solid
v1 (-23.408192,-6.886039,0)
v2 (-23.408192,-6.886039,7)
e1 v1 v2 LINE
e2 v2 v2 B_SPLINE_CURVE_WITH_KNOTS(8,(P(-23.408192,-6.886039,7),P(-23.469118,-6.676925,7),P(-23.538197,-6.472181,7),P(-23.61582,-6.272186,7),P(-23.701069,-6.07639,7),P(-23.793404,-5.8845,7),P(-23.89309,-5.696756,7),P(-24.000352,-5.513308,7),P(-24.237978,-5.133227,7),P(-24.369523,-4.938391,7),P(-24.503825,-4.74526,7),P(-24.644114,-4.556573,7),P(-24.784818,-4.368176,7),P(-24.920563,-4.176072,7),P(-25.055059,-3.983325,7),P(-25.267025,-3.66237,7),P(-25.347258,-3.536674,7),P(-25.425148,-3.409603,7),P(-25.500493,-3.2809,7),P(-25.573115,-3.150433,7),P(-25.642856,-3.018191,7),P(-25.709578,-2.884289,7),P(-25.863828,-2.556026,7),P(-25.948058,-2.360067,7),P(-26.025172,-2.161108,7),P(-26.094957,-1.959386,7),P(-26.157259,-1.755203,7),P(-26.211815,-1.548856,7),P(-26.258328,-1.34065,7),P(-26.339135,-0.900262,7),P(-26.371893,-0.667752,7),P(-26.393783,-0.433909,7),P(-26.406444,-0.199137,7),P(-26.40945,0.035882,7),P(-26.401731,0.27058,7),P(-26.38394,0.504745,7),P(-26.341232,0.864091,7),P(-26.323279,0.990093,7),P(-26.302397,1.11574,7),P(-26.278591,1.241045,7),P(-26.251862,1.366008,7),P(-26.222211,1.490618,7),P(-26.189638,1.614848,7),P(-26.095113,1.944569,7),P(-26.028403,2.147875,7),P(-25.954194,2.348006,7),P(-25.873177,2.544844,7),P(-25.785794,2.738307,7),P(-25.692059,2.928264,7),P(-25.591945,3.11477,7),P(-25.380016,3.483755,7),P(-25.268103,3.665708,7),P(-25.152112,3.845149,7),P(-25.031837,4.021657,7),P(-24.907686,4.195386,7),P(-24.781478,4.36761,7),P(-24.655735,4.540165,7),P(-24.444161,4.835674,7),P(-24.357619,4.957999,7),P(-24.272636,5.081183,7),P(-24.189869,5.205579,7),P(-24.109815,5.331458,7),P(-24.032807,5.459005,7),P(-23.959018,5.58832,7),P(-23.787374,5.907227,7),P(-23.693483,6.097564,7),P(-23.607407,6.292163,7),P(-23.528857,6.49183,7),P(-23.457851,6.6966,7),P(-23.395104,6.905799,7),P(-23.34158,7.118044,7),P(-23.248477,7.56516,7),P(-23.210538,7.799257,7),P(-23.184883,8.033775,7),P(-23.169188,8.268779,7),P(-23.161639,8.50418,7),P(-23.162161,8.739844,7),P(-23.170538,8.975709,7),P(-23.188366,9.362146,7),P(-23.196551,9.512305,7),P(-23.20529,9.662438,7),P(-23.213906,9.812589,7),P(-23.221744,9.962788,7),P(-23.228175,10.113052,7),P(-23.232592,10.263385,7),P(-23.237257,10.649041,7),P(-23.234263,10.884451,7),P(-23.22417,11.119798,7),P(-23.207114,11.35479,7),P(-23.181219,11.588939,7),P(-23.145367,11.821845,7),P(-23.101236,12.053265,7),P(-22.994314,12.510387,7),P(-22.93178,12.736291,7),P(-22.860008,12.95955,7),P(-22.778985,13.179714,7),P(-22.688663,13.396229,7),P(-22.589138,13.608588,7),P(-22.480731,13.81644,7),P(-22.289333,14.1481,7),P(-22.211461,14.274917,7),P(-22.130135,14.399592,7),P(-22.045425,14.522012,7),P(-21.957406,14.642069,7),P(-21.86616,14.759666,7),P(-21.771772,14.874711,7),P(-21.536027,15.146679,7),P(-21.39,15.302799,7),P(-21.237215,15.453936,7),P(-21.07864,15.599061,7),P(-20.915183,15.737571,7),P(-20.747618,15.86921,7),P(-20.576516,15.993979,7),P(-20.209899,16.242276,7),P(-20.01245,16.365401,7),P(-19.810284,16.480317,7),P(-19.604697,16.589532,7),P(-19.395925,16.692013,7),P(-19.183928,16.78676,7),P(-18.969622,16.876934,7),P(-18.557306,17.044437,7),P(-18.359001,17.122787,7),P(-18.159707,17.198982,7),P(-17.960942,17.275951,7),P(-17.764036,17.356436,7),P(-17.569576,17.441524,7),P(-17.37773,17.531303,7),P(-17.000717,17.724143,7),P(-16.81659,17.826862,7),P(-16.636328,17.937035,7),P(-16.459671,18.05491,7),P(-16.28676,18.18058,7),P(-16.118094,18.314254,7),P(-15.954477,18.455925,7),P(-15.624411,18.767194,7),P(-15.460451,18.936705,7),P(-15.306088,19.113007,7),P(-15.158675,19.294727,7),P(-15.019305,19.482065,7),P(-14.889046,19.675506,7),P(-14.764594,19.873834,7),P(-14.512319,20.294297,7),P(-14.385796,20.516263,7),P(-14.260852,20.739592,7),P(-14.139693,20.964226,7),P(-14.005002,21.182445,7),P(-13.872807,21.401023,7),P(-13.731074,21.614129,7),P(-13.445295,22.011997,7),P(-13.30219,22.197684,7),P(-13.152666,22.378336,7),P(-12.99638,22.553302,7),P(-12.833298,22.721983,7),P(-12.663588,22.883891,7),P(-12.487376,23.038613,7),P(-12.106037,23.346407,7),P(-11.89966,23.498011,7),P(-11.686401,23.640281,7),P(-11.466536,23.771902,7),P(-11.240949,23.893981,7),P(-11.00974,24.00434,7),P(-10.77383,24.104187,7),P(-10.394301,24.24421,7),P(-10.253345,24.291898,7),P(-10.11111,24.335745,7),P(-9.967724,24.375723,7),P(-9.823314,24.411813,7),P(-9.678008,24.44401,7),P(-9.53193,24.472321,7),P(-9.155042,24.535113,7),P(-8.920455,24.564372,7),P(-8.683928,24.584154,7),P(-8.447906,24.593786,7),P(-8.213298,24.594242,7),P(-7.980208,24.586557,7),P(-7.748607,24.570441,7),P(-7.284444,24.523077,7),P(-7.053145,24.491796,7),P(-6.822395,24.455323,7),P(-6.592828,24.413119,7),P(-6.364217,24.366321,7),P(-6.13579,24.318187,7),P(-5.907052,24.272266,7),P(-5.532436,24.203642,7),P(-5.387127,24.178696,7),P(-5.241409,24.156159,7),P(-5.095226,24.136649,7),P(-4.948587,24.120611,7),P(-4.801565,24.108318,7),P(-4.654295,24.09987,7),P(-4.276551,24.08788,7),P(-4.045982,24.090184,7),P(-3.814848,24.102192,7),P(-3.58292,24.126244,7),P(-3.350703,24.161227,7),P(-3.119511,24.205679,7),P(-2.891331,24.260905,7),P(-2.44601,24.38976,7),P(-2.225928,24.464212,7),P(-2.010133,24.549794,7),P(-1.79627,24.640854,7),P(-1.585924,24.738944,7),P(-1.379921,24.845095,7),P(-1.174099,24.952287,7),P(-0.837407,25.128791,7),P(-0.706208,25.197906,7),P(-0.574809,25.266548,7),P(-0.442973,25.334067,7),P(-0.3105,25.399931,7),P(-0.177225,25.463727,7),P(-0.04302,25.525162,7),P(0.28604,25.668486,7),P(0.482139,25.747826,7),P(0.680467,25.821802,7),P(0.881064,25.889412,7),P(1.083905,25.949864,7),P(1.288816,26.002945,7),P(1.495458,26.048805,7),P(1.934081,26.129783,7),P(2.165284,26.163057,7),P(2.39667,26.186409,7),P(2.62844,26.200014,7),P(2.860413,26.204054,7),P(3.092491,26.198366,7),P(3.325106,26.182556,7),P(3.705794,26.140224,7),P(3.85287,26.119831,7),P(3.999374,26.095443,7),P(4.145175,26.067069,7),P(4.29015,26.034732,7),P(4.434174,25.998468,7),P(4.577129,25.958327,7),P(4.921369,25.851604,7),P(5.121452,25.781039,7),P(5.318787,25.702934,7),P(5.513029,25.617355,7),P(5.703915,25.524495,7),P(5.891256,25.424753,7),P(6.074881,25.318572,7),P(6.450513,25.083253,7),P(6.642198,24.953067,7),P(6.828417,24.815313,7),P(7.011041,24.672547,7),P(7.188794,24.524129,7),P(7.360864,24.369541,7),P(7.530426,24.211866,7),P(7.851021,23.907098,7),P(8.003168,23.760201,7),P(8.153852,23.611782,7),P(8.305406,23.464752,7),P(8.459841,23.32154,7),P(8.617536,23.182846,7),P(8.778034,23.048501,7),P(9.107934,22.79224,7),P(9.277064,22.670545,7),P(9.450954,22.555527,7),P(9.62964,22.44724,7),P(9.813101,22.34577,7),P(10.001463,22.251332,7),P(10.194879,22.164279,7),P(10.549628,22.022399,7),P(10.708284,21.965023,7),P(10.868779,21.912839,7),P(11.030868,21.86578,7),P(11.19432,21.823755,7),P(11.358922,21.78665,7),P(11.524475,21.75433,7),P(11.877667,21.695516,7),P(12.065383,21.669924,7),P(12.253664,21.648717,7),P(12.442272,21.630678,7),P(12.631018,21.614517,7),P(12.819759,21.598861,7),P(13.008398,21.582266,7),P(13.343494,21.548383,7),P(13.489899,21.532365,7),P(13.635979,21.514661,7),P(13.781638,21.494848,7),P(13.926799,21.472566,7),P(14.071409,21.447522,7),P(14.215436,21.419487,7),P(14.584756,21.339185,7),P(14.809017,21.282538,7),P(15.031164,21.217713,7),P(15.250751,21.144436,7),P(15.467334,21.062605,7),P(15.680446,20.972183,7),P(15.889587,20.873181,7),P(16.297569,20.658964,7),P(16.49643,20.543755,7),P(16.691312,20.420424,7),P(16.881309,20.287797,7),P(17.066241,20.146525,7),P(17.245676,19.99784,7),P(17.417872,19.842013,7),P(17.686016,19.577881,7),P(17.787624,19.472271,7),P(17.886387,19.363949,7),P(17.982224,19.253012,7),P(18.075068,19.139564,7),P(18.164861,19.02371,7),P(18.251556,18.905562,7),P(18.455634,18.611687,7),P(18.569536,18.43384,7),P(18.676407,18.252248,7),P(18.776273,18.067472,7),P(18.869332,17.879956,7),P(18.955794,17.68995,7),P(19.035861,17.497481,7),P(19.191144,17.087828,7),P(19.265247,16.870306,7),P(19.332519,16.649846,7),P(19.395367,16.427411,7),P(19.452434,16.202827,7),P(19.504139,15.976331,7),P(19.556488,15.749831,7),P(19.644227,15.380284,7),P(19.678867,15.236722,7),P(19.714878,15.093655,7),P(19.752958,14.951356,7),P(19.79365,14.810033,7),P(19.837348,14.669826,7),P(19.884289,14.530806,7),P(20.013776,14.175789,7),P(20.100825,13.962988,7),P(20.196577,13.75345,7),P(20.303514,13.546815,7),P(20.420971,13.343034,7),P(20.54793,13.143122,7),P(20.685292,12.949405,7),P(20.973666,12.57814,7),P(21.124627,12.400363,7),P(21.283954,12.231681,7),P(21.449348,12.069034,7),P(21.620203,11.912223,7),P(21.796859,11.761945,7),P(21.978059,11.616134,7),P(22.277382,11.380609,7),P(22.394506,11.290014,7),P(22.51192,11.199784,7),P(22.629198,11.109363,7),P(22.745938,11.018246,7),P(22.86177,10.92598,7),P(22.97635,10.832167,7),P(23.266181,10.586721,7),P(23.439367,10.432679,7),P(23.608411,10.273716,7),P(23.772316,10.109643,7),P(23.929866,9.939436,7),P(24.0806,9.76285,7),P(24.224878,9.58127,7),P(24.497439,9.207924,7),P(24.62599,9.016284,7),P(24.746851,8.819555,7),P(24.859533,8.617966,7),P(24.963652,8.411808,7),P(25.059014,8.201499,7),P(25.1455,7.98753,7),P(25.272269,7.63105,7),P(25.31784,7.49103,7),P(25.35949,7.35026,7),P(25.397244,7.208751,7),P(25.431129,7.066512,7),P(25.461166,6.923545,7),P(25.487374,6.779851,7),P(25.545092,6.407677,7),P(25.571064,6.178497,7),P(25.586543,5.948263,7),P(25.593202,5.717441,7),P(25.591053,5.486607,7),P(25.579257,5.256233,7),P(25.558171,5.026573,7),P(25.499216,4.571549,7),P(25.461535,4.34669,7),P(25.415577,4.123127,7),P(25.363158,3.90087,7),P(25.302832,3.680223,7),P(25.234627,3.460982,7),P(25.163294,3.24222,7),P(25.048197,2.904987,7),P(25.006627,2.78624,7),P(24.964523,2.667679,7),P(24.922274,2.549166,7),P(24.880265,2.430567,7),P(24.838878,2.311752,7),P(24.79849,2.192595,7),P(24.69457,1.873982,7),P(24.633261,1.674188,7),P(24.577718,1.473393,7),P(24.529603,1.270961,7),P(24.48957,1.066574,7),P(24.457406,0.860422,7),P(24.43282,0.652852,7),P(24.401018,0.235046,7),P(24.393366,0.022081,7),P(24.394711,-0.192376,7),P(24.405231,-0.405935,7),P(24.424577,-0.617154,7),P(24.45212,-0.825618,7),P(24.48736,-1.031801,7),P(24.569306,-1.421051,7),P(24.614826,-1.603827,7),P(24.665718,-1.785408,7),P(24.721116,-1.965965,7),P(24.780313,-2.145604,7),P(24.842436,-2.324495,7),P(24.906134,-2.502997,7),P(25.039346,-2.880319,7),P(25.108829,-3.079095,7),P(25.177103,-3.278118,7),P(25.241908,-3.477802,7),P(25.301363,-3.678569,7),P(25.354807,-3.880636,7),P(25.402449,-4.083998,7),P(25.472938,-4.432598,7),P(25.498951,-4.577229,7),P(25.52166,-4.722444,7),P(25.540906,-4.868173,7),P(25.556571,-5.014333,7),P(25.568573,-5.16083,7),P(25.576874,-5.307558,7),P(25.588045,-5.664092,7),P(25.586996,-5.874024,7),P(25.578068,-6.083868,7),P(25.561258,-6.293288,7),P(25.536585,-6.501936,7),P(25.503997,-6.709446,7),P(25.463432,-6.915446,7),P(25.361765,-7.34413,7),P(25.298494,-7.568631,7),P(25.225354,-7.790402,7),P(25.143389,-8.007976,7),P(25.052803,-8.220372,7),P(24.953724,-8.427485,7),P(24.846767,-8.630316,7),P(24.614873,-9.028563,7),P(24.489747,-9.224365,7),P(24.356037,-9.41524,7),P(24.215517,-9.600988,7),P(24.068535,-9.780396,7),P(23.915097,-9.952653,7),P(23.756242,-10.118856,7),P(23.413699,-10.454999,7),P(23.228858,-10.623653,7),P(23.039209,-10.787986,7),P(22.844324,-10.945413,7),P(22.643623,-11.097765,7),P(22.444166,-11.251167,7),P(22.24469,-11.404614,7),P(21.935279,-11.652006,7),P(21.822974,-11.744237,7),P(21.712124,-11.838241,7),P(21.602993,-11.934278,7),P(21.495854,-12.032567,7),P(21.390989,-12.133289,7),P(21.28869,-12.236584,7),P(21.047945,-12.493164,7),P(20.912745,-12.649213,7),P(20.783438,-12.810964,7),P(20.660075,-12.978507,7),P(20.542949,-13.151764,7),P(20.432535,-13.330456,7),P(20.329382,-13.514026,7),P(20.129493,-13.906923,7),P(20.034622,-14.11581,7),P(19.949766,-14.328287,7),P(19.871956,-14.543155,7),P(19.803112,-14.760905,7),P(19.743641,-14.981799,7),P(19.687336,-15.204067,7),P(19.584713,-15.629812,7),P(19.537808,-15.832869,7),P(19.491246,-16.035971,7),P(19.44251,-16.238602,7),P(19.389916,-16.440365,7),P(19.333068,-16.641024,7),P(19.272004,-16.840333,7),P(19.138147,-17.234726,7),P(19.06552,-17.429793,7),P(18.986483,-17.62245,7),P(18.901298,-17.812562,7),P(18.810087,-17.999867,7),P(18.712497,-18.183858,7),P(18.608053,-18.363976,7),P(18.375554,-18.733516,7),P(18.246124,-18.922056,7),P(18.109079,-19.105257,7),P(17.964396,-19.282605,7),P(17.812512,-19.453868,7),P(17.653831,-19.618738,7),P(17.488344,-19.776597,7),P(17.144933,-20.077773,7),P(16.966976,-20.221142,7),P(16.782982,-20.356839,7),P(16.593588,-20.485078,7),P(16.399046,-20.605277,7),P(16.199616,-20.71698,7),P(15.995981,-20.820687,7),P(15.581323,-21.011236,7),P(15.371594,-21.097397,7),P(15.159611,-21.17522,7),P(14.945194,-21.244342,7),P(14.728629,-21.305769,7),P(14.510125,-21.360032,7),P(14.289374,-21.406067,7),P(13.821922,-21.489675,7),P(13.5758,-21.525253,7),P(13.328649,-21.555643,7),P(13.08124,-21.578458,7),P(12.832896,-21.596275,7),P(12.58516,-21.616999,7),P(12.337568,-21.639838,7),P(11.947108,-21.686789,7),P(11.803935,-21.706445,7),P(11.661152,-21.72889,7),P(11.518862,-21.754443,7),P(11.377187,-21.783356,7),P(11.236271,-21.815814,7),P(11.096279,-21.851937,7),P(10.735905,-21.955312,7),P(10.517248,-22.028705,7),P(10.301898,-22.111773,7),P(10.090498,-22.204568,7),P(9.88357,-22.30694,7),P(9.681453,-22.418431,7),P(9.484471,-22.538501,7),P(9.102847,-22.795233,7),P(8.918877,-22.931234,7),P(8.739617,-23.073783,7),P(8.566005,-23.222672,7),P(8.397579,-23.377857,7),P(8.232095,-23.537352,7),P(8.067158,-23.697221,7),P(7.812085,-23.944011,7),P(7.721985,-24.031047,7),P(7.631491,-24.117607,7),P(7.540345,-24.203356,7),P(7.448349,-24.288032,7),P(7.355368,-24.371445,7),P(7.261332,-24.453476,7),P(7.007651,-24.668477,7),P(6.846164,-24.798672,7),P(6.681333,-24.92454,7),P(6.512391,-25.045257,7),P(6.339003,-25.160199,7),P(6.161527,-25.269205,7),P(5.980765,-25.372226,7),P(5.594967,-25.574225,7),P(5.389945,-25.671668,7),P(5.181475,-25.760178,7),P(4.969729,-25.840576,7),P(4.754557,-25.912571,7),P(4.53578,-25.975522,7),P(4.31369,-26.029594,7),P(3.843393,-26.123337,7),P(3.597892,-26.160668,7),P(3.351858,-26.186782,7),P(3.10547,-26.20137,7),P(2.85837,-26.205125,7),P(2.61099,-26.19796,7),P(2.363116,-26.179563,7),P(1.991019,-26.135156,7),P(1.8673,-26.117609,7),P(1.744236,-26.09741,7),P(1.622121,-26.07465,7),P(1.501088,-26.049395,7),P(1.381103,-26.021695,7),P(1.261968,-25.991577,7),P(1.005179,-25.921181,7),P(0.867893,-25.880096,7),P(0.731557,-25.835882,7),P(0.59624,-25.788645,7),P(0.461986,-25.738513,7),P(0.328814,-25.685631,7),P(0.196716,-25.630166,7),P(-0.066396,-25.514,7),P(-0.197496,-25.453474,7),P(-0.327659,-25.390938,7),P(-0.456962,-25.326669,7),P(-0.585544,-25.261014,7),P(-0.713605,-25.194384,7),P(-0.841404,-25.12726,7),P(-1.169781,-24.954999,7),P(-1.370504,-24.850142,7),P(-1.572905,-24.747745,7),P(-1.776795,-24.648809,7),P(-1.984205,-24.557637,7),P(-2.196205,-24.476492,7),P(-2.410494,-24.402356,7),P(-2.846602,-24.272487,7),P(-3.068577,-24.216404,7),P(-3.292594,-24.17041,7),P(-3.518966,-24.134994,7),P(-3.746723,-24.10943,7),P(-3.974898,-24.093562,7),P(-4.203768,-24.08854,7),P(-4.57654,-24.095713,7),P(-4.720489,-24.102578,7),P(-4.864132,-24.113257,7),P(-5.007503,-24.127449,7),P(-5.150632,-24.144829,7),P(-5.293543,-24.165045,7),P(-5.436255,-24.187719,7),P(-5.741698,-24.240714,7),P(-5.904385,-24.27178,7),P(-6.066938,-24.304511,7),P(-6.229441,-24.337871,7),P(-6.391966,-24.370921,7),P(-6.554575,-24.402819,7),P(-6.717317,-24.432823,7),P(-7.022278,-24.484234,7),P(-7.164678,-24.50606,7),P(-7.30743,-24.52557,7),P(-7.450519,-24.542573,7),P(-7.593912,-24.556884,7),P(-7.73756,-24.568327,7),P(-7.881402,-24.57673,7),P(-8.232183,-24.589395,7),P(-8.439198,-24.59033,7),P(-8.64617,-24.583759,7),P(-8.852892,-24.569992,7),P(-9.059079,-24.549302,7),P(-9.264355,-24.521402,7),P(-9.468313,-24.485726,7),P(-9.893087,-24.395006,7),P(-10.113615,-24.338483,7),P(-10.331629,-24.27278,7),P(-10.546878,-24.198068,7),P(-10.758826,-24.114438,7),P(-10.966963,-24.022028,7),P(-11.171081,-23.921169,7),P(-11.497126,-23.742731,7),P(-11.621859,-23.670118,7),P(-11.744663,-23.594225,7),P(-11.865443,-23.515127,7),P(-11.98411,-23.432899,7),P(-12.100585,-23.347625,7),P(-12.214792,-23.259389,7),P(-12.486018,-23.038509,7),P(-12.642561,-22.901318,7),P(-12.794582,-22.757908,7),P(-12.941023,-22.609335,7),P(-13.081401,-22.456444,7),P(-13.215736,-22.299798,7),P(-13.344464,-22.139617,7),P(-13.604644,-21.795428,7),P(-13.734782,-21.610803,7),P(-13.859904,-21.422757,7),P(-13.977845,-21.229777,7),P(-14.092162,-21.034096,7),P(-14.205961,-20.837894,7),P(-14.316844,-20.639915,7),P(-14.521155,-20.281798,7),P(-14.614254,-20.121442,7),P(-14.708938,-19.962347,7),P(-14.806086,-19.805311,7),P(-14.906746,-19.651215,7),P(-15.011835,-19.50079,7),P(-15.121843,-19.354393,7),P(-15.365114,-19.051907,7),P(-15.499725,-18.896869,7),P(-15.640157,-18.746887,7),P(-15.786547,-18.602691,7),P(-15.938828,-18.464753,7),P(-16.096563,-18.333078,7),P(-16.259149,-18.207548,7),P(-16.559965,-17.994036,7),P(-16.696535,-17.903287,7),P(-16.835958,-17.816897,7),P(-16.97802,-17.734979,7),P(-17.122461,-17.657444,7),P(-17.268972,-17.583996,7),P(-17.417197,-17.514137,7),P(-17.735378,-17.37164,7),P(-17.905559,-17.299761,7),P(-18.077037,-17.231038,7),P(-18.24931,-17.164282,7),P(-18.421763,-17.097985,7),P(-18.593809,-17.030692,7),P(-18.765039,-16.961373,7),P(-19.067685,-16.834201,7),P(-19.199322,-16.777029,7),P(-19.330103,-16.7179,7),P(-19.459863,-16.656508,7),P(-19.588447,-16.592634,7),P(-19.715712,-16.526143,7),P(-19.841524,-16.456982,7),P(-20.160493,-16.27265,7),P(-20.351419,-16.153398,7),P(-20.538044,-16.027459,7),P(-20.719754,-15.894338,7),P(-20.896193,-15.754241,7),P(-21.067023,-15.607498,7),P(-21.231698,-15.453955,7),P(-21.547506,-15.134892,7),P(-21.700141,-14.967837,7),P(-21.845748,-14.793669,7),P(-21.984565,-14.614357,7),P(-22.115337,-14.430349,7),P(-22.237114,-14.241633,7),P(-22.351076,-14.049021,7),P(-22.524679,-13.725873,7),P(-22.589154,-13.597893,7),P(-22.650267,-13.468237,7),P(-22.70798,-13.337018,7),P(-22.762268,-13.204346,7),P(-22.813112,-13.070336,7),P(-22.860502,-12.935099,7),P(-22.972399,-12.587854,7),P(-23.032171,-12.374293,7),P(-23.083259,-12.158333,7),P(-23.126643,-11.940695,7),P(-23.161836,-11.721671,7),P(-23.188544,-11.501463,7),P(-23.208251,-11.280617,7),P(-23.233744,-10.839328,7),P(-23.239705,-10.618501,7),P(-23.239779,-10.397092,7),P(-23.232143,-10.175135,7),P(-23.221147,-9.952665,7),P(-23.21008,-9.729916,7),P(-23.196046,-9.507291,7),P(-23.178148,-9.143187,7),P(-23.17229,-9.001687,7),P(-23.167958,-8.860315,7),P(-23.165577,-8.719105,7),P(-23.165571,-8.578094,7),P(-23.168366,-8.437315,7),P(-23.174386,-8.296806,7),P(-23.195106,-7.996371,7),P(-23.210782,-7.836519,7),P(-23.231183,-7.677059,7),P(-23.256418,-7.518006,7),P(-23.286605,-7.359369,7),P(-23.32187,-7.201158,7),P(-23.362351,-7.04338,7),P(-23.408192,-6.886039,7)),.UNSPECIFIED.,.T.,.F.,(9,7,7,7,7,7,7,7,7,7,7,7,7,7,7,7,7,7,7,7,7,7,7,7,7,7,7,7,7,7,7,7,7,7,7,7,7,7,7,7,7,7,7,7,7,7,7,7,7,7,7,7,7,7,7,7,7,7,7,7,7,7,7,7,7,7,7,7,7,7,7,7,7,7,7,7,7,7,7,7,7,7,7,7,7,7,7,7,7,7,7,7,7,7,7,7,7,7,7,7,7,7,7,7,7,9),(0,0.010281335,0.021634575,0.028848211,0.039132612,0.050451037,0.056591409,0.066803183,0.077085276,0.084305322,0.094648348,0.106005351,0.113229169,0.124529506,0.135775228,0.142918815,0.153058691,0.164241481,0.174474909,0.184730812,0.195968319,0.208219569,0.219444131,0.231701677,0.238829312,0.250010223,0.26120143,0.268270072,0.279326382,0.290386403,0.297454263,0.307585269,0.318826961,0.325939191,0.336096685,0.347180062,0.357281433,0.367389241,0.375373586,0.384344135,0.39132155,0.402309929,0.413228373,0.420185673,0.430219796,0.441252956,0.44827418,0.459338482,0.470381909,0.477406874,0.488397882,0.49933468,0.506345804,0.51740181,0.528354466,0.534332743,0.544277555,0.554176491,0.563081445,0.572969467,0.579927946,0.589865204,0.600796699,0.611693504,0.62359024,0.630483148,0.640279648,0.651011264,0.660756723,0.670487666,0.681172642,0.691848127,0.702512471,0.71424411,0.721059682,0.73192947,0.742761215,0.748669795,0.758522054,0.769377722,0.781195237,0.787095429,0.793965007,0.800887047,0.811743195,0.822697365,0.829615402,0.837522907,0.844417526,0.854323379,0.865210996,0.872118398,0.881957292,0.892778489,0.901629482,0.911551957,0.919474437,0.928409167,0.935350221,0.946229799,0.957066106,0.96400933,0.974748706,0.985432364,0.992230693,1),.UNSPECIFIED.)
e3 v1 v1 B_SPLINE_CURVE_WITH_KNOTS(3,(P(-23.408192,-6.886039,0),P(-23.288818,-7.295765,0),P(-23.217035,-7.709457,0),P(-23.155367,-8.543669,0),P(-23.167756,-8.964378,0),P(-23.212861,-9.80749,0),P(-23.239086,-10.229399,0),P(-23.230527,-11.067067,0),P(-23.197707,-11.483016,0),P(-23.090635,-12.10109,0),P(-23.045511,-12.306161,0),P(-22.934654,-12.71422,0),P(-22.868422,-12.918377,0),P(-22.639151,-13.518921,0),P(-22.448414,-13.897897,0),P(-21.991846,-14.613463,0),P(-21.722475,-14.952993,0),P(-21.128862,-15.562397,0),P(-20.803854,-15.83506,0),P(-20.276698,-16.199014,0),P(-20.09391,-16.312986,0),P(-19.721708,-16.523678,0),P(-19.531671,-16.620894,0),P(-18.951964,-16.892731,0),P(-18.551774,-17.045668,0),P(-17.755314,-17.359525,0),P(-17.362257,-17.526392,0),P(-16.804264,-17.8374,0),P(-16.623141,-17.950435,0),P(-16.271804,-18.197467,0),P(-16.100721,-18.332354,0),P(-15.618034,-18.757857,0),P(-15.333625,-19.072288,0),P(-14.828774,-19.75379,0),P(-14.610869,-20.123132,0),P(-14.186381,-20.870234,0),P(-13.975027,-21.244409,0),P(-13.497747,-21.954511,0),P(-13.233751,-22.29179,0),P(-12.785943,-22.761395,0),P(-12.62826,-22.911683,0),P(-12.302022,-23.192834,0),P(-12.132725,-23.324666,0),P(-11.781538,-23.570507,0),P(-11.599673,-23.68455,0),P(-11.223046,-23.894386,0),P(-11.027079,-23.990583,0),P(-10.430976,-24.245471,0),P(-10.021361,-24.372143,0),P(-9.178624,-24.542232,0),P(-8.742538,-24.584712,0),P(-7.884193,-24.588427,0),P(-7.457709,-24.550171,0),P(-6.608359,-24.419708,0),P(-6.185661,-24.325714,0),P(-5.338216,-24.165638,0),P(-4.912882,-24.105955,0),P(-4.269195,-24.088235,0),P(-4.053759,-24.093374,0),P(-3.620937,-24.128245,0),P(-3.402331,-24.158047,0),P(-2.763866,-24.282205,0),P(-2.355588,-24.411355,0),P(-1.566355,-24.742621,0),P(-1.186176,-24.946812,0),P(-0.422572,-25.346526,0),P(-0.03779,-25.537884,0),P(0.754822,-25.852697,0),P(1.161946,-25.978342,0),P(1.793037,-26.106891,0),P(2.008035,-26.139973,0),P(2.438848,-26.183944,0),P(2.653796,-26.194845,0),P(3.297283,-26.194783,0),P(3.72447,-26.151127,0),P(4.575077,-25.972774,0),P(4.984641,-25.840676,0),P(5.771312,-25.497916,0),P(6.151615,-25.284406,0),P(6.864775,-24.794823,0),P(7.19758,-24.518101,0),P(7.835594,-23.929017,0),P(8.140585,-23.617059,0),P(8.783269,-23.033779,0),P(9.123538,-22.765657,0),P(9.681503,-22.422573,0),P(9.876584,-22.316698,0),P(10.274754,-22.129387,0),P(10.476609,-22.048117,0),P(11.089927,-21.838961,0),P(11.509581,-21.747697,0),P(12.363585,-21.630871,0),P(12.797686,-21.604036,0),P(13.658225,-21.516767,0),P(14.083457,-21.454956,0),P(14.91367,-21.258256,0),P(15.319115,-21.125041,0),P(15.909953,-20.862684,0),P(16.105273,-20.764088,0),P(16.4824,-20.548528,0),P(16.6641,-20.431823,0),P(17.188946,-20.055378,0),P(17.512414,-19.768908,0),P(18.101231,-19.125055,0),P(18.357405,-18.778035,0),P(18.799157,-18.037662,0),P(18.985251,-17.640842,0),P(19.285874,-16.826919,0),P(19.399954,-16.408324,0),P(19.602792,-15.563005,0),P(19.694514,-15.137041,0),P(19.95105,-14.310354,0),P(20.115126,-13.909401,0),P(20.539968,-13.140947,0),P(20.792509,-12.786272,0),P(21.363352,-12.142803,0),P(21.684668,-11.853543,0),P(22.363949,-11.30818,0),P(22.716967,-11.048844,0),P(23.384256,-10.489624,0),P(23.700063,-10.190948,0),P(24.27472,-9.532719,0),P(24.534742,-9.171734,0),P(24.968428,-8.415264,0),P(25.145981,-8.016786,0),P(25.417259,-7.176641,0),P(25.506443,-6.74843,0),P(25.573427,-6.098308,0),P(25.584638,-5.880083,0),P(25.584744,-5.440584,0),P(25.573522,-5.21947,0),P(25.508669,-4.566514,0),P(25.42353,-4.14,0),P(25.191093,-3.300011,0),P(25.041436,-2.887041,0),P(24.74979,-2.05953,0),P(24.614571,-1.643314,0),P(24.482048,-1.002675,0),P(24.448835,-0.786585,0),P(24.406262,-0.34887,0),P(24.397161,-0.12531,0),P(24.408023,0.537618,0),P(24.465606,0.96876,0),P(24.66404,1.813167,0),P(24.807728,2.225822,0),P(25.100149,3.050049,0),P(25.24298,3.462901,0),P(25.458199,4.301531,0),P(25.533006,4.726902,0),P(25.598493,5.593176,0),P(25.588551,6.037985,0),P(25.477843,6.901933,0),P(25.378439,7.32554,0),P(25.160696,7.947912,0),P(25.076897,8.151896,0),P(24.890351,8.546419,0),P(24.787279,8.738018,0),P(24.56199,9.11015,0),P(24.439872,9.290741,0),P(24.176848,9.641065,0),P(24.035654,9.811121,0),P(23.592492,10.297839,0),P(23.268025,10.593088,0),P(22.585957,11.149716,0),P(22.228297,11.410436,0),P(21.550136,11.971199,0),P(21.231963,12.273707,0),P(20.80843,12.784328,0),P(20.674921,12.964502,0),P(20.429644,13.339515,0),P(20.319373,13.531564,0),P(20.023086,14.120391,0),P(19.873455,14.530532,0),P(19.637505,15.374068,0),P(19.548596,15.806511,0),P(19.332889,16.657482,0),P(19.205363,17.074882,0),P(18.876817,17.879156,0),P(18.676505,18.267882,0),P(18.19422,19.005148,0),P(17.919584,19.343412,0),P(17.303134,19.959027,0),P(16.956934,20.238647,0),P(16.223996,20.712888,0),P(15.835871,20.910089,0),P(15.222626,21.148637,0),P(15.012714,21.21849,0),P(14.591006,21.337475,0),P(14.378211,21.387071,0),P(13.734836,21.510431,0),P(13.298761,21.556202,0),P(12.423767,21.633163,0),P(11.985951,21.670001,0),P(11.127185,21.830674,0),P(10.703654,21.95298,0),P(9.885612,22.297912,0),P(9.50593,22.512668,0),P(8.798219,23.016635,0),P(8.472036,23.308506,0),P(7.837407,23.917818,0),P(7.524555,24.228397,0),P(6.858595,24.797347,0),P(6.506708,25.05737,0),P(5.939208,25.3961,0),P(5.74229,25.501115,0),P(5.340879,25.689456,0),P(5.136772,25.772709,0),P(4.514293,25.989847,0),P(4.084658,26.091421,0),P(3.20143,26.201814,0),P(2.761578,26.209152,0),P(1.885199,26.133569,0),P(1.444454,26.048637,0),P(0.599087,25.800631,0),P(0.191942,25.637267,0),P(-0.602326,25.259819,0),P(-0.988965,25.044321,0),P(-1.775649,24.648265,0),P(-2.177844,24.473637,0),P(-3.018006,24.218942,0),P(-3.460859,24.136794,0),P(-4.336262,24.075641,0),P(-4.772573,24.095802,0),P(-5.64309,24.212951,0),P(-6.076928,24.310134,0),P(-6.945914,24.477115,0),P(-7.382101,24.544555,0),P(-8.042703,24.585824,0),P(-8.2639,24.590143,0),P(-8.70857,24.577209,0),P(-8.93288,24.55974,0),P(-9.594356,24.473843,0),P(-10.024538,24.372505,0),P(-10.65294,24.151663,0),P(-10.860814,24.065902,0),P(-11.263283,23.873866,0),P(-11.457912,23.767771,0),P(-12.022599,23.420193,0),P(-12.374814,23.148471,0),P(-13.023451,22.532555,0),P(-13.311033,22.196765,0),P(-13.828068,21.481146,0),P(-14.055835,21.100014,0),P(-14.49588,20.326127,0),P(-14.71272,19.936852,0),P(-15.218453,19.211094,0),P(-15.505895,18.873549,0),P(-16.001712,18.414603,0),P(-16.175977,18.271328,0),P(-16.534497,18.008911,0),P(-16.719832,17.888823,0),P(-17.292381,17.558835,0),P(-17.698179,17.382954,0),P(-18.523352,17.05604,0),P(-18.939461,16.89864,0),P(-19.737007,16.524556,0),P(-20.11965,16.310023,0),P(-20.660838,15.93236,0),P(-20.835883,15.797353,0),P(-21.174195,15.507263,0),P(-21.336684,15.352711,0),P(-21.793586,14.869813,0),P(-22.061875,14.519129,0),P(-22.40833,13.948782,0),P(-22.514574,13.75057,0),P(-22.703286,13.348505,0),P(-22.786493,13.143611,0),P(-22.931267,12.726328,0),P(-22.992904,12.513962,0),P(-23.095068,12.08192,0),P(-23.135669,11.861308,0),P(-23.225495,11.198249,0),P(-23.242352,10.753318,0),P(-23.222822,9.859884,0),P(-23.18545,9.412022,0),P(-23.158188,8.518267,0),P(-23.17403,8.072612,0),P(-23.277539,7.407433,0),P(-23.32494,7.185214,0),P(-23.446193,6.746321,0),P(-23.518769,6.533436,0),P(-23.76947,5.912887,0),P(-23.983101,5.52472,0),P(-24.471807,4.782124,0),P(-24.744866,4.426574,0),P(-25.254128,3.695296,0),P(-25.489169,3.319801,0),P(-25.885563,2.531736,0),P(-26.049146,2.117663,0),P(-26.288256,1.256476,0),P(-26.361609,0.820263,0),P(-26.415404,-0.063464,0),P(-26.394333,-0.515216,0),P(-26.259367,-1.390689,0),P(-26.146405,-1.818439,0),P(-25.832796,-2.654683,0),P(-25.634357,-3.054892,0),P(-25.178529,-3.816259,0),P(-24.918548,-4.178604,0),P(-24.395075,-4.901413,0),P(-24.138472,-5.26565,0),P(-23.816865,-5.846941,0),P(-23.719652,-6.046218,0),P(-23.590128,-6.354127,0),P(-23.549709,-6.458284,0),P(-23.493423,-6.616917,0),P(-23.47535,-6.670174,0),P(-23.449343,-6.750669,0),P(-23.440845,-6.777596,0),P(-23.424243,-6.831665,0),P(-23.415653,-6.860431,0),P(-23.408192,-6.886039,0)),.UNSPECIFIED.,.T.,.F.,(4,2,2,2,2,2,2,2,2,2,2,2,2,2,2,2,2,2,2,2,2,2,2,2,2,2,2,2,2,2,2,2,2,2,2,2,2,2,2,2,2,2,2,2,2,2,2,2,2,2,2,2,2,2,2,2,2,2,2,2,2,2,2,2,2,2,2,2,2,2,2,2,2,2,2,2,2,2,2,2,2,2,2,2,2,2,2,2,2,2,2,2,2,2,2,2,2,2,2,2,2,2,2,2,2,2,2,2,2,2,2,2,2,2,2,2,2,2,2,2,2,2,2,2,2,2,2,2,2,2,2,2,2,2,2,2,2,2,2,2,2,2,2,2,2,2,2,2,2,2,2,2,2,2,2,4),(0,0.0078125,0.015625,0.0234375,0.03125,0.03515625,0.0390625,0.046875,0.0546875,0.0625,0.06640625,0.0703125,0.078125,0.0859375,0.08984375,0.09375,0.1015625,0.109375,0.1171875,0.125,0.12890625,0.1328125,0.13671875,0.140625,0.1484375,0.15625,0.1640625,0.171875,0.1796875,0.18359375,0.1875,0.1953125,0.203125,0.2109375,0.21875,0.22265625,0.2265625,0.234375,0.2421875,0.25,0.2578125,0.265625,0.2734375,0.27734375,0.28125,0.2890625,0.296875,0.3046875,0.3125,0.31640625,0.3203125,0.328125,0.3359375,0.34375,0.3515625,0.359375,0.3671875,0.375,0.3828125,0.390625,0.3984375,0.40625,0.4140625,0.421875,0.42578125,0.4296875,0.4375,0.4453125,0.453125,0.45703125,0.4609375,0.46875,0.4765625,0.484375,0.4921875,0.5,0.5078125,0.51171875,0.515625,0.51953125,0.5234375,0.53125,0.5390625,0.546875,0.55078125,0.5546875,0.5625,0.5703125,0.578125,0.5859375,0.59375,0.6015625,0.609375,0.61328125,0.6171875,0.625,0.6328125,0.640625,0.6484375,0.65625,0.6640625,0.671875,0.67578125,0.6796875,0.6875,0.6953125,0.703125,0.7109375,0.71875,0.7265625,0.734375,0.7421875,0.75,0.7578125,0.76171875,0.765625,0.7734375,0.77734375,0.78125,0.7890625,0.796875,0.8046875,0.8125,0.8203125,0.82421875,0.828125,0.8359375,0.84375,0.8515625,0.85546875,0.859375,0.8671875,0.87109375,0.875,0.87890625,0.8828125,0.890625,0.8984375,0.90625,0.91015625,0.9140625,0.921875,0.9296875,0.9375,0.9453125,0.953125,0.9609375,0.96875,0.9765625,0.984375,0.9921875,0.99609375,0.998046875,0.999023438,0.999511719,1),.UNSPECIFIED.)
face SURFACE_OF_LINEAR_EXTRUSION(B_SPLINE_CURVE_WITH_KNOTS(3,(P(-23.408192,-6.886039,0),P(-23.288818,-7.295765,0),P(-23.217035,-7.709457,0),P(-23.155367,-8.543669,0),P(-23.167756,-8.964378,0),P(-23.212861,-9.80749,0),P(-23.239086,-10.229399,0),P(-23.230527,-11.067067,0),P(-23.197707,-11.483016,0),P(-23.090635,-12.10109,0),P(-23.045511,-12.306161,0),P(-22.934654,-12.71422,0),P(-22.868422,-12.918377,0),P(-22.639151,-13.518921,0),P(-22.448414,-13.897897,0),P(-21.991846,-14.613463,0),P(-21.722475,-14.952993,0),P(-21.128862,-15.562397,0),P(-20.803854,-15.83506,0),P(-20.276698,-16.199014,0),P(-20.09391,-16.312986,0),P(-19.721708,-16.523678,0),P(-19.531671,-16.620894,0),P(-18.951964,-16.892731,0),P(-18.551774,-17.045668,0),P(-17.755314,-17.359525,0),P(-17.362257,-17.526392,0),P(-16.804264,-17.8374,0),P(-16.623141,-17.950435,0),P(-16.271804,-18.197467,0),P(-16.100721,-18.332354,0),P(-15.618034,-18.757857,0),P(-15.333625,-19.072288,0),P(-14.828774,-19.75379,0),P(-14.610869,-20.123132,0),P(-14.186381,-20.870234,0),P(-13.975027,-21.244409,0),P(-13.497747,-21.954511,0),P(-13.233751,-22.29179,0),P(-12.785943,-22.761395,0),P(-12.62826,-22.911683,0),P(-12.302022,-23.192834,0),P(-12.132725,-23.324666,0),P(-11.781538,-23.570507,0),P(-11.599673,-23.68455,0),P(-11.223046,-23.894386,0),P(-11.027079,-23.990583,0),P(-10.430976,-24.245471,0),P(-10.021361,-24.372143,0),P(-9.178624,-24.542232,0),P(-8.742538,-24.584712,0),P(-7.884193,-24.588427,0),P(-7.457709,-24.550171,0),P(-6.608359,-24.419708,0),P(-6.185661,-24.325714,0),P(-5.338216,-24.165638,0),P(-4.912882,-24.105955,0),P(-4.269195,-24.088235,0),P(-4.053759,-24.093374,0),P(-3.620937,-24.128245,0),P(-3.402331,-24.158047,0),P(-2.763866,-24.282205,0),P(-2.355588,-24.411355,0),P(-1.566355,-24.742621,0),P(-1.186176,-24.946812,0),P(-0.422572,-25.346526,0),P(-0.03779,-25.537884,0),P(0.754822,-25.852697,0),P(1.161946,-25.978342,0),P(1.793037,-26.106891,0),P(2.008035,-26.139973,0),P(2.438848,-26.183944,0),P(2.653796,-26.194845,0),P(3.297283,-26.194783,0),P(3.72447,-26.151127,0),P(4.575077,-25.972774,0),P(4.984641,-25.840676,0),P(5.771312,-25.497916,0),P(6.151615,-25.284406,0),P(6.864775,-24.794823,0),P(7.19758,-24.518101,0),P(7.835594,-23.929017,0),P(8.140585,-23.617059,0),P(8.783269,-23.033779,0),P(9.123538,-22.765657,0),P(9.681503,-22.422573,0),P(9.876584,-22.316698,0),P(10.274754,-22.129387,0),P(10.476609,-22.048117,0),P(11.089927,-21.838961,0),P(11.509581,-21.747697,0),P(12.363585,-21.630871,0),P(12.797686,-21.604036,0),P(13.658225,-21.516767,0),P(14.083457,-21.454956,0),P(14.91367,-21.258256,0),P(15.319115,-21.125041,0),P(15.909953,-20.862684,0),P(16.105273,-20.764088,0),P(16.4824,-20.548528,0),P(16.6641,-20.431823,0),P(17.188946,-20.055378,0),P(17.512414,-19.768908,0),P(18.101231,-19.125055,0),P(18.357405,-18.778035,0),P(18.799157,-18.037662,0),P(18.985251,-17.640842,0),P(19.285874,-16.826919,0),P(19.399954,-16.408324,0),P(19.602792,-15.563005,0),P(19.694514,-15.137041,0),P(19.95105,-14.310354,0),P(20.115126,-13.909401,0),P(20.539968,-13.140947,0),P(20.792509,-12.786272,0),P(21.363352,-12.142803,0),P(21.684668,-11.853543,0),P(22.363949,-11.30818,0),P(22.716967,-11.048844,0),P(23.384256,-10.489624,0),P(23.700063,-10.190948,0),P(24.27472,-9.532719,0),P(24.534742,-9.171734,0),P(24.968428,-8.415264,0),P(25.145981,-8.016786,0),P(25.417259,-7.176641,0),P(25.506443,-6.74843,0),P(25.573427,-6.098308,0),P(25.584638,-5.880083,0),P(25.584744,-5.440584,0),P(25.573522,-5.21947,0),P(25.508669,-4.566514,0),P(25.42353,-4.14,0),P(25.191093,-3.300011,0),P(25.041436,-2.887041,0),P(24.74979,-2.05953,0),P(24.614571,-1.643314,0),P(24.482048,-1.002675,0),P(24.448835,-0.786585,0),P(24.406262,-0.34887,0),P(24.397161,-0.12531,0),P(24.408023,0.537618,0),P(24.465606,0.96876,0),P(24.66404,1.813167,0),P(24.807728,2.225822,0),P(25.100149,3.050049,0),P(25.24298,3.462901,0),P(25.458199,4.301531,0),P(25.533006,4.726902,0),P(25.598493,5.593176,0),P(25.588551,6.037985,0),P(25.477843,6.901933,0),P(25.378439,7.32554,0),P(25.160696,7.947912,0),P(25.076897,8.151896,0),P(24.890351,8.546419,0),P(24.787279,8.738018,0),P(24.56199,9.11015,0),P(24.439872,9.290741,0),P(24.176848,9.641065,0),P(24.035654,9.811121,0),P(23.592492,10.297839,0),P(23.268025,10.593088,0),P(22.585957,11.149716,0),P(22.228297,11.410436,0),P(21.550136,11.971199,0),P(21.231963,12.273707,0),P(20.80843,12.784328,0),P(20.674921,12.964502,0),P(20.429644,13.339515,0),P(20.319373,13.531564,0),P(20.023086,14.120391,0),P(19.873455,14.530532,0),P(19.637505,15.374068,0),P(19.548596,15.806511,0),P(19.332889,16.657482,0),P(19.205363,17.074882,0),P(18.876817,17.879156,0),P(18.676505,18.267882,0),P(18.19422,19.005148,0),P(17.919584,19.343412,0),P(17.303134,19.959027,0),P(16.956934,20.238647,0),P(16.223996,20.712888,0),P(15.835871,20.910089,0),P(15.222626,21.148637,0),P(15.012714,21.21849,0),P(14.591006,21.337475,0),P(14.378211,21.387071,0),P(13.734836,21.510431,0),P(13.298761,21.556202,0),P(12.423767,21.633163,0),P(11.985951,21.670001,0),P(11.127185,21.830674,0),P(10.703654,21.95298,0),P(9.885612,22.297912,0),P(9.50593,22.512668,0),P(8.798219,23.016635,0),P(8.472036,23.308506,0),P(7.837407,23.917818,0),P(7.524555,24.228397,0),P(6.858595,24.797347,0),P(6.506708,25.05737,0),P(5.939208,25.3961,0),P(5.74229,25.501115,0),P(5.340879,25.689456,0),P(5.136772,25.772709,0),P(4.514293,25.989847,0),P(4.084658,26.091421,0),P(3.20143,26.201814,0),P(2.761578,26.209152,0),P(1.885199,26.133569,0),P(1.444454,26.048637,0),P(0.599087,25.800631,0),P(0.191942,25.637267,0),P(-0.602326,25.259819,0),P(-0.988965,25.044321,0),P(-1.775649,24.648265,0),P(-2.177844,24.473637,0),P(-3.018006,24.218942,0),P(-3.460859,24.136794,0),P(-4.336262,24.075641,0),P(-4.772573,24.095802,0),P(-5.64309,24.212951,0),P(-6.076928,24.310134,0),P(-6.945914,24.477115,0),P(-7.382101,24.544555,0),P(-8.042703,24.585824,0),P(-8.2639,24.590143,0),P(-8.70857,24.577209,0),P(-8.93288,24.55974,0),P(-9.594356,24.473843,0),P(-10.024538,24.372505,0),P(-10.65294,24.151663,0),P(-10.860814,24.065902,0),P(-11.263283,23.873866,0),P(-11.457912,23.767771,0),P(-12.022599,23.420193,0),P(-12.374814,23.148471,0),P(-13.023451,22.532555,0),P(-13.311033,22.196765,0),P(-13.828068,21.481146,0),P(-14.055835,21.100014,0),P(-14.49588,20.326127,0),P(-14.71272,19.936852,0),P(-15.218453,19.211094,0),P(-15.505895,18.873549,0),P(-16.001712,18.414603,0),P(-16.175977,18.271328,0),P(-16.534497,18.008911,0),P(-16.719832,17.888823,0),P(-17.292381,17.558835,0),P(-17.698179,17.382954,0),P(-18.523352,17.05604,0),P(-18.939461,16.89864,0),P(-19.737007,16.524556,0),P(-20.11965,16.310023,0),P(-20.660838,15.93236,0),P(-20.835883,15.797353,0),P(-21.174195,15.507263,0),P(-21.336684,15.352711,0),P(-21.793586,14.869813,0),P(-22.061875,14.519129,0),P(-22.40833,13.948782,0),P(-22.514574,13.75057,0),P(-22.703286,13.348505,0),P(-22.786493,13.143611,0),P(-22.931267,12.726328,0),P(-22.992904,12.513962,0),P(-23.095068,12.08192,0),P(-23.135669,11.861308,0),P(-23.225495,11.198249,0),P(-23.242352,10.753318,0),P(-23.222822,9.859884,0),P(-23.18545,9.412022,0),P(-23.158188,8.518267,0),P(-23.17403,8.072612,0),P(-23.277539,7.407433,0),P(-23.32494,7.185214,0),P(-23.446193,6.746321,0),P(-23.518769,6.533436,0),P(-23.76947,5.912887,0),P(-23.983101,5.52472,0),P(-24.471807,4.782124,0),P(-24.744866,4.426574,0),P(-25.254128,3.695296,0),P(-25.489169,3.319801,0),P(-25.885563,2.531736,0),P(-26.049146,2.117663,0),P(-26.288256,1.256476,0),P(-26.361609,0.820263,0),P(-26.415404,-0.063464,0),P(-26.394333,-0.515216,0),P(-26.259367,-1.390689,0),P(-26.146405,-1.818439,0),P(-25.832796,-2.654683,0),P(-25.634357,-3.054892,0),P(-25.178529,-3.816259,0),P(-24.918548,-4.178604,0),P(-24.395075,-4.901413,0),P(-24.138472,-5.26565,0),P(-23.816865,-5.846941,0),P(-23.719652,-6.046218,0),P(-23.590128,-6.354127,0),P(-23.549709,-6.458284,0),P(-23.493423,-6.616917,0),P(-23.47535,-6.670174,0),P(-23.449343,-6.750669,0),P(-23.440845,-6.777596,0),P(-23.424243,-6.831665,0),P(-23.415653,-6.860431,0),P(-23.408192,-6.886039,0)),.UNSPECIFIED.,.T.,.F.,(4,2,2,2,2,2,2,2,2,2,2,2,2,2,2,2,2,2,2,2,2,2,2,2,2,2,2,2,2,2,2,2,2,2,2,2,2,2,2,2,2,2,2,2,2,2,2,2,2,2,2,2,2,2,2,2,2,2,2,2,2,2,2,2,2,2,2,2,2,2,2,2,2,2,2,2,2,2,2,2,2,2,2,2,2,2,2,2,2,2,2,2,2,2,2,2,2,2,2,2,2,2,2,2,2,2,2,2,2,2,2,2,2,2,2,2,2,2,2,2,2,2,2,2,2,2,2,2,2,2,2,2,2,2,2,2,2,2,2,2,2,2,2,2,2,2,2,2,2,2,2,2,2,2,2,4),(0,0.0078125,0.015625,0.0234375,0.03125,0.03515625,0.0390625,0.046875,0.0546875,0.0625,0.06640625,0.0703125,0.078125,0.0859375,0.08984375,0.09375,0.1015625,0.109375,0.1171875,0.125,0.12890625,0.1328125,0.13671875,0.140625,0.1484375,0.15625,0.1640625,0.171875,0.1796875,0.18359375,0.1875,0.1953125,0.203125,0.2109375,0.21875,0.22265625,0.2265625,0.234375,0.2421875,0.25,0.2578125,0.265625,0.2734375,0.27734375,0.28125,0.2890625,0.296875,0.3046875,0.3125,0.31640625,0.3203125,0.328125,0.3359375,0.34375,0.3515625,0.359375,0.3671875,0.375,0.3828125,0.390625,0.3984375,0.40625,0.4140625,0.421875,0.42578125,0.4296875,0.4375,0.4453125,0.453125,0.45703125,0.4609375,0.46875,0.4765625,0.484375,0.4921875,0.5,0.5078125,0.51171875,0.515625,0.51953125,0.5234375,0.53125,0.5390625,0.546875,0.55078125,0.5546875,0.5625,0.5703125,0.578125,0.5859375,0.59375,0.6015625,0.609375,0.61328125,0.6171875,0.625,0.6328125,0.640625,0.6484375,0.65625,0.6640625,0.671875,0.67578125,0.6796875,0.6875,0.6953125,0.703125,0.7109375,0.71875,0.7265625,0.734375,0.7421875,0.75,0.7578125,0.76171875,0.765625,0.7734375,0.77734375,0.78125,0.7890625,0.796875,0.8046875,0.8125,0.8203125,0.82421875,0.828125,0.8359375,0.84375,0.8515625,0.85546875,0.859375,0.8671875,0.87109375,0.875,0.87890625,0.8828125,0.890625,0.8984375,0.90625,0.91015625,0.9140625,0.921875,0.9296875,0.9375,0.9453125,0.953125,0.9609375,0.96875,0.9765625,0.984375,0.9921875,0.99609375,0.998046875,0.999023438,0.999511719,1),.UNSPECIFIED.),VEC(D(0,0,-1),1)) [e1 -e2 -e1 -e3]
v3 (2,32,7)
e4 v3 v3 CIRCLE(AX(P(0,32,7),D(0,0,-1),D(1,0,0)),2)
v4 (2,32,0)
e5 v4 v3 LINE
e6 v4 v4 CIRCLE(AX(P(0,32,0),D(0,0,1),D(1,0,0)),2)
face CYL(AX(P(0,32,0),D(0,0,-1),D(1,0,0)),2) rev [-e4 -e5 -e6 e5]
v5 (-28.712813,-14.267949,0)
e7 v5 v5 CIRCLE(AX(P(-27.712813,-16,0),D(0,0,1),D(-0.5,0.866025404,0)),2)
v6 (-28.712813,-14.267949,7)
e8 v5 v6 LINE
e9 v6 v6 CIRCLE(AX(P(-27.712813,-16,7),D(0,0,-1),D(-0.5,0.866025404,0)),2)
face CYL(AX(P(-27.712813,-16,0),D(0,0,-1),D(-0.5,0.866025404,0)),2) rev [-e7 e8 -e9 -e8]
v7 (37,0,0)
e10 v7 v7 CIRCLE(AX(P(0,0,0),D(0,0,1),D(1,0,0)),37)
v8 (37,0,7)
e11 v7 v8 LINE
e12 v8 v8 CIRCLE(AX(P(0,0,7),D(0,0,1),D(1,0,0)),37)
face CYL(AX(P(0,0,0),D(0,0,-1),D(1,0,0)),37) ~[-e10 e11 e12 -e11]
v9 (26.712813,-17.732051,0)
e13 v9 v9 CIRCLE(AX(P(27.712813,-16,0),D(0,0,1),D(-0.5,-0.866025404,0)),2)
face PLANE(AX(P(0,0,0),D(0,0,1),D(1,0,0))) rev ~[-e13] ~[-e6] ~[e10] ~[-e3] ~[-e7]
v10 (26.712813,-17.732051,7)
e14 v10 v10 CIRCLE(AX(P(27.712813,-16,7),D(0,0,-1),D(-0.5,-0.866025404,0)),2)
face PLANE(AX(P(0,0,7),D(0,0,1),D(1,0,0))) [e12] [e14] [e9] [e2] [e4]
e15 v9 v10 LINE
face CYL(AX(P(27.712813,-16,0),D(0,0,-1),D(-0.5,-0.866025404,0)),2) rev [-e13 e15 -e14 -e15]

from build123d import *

# Parameters (mm, degrees)
SKETCH2_R           = 37
BOSS_EXTRUDE1_DEPTH = 7
CUT_EXTRUDE1_DEPTH  = 8
SKETCH4_R           = 2
CUT_EXTRUDE3_DEPTH  = 8.0000001
CIRPATTERN1_COUNT   = 3


with BuildPart() as part:
    # Sketch2 → Boss-Extrude1 (new body)
    with BuildSketch(Plane.XY):
        Circle(SKETCH2_R)
    extrude(amount=BOSS_EXTRUDE1_DEPTH)

    # Sketch3 → Cut-Extrude1 (cut, through all)
    with BuildSketch(Plane.XY):
        with BuildLine():
            add(Edge.make_bspline(
                [(-23.40819235, -6.886039026), (-23.288817541, -7.295764537), (-23.217034721, -7.709457125), (-23.155367476, -8.543669023), (-23.167756216, -8.964377815), (-23.212860746, -9.807489779), (-23.239086425, -10.229399388), (-23.230526706, -11.067067164), (-23.197706978, -11.483015559), (-23.09063538, -12.101090098), (-23.04551127, -12.306161172), (-22.93465442, -12.714219707), (-22.868421749, -12.918377244), (-22.639151049, -13.518921307), (-22.448413732, -13.897897224), (-21.991845991, -14.613463393), (-21.722475324, -14.952992516), (-21.128861932, -15.562397169), (-20.803854058, -15.835059918), (-20.276698229, -16.199014168), (-20.093910349, -16.312986304), (-19.721708311, -16.523677731), (-19.53167091, -16.620894398), (-18.951964145, -16.892730619), (-18.551774301, -17.045667836), (-17.755314402, -17.359525356), (-17.362256503, -17.526392072), (-16.804263957, -17.837399747), (-16.623140596, -17.950434528), (-16.271803624, -18.19746688), (-16.100721275, -18.332353914), (-15.618034349, -18.757856553), (-15.333625278, -19.072287697), (-14.828774296, -19.753790089), (-14.610868779, -20.123132291), (-14.186381358, -20.870234347), (-13.97502735, -21.244408936), (-13.497747293, -21.954510528), (-13.23375114, -22.291790125), (-12.785942836, -22.761394894), (-12.628260301, -22.911683025), (-12.30202211, -23.192834272), (-12.13272495, -23.324665946), (-11.781537955, -23.570506604), (-11.599672603, -23.68455024), (-11.223046422, -23.894386261), (-11.027078903, -23.990583066), (-10.43097633, -24.24547129), (-10.021361421, -24.372142946), (-9.178623735, -24.542231595), (-8.742538248, -24.584712471), (-7.884192602, -24.588427197), (-7.457709164, -24.55017086), (-6.608359323, -24.419708065), (-6.185661033, -24.325714089), (-5.338216401, -24.165637581), (-4.912882258, -24.105955124), (-4.269195469, -24.088234694), (-4.053758583, -24.09337352), (-3.620937414, -24.128244877), (-3.402331175, -24.158046898), (-2.763866229, -24.28220546), (-2.355588441, -24.411354891), (-1.566354851, -24.742620981), (-1.186175748, -24.946811928), (-0.422571811, -25.346525636), (-0.037789861, -25.537884231), (0.754822283, -25.852696863), (1.161945611, -25.978341625), (1.793037176, -26.106891127), (2.008035274, -26.139972758), (2.438847909, -26.183943804), (2.653795612, -26.194845075), (3.297283033, -26.194783323), (3.724470035, -26.15112654), (4.575077281, -25.972774314), (4.984640842, -25.840676222), (5.771312133, -25.497915928), (6.151615227, -25.284405785), (6.864774703, -24.794822528), (7.197580102, -24.518100814), (7.835593712, -23.929017006), (8.140584724, -23.617059415), (8.783268512, -23.03377866), (9.123537623, -22.765656788), (9.68150333, -22.422573433), (9.876583959, -22.316698234), (10.274754094, -22.129387288), (10.476609352, -22.04811652), (11.089927132, -21.83896116), (11.509580931, -21.747697352), (12.363584515, -21.630871168), (12.797686278, -21.604035964), (13.658224982, -21.516766691), (14.083457416, -21.454956148), (14.913670455, -21.258255581), (15.319115222, -21.125040501), (15.909953023, -20.862684273), (16.105273127, -20.764087573), (16.482400488, -20.548528307), (16.664099705, -20.431823491), (17.188945769, -20.055377913), (17.51241354, -19.7689083), (18.101230845, -19.125055492), (18.357405236, -18.778035412), (18.799157128, -18.037661536), (18.985250568, -17.640842305), (19.285873797, -16.826918848), (19.399954261, -16.408324346), (19.602792493, -15.563004959), (19.694513602, -15.137040873), (19.951049995, -14.310354353), (20.115126184, -13.909400554), (20.539968039, -13.140947229), (20.792508573, -12.786272464), (21.363351677, -12.142802946), (21.684667801, -11.85354298), (22.363949168, -11.308180499), (22.716967497, -11.048844136), (23.384256494, -10.489623919), (23.700062832, -10.1909478), (24.27471962, -9.532719245), (24.534742283, -9.171734254), (24.968428159, -8.415263861), (25.145981429, -8.016786182), (25.4172586, -7.176640982), (25.506442752, -6.748430099), (25.573427408, -6.098308226), (25.584638067, -5.880082638), (25.584744244, -5.440583938), (25.573522482, -5.21946973), (25.508668826, -4.566514261), (25.42353, -4.140000372), (25.191093099, -3.300011375), (25.041435865, -2.887041226), (24.749790273, -2.059530159), (24.614571054, -1.64331404), (24.482047889, -1.002675261), (24.448835274, -0.786585295), (24.406262024, -0.348870453), (24.397161176, -0.12530974), (24.408022813, 0.537617507), (24.465606162, 0.968760048), (24.664039981, 1.813166895), (24.807727544, 2.22582205), (25.100149127, 3.050048838), (25.242979977, 3.462901166), (25.458198903, 4.301530818), (25.533005781, 4.726901798), (25.598493216, 5.593175519), (25.588550653, 6.037984584), (25.47784252, 6.901933442), (25.37843899, 7.325540285), (25.160696452, 7.947912298), (25.076897237, 8.151895726), (24.890350992, 8.546419134), (24.787278878, 8.738017606), (24.561990109, 9.110150149), (24.439871782, 9.290741047), (24.176848108, 9.641065066), (24.035653869, 9.811121034), (23.592491731, 10.297839243), (23.268025214, 10.593087535), (22.585956886, 11.149715947), (22.228297385, 11.41043558), (21.550136327, 11.971199051), (21.231962813, 12.273706656), (20.808430397, 12.784328186), (20.674920686, 12.964502174), (20.429643875, 13.339515014), (20.319373155, 13.531563812), (20.023086437, 14.120390642), (19.873454772, 14.530531837), (19.637504636, 15.374067768), (19.548596402, 15.806511341), (19.332888928, 16.657481957), (19.205362972, 17.074881703), (18.876816854, 17.879156284), (18.676505451, 18.267882368), (18.194219875, 19.005148163), (17.919584441, 19.343412187), (17.303134206, 19.959026518), (16.956934348, 20.23864715), (16.223995889, 20.712888128), (15.835871279, 20.910089037), (15.222625963, 21.148637269), (15.012713547, 21.218490114), (14.591006131, 21.337475277), (14.37821074, 21.387070957), (13.734836107, 21.510431454), (13.298761295, 21.556202394), (12.423766522, 21.633163279), (11.985950736, 21.670001423), (11.127185424, 21.830673785), (10.703653659, 21.952980025), (9.885611879, 22.297911816), (9.505929653, 22.512667623), (8.798218841, 23.016634841), (8.472035802, 23.308506495), (7.837407475, 23.917817702), (7.524555089, 24.228396598), (6.858595146, 24.79734748), (6.506708016, 25.057370164), (5.939208038, 25.396099639), (5.742289678, 25.501114691), (5.340878576, 25.689456492), (5.136772265, 25.772709302), (4.514292729, 25.989847282), (4.084657964, 26.091420782), (3.201429594, 26.201814238), (2.761578071, 26.209151946), (1.885199254, 26.133569296), (1.444454398, 26.048636717), (0.599087248, 25.800631047), (0.191942, 25.637267196), (-0.602325727, 25.259818681), (-0.988964912, 25.044320825), (-1.775649228, 24.648264598), (-2.177843761, 24.473636646), (-3.018005873, 24.218942379), (-3.4608588, 24.136794252), (-4.336262079, 24.075640556), (-4.772573178, 24.095801866), (-5.643089858, 24.212950678), (-6.076928275, 24.310134058), (-6.945914179, 24.477114681), (-7.382101158, 24.544555259), (-8.042703178, 24.585823804), (-8.263899918, 24.590142951), (-8.708570333, 24.57720885), (-8.93287986, 24.559740407), (-9.594355635, 24.473842657), (-10.024537722, 24.372505017), (-10.65293989, 24.151663038), (-10.860814191, 24.065901502), (-11.263282853, 23.873865838), (-11.457912405, 23.767771394), (-12.022599234, 23.420192696), (-12.374814313, 23.14847089), (-13.023450636, 22.532554888), (-13.311032641, 22.196765096), (-13.828067731, 21.481146283), (-14.055834767, 21.100013809), (-14.495879776, 20.326126714), (-14.712720305, 19.936851735), (-15.218452898, 19.211093885), (-15.505895416, 18.873548932), (-16.001711946, 18.414602525), (-16.175976889, 18.271328134), (-16.53449708, 18.008911387), (-16.719832288, 17.888822577), (-17.292380572, 17.558834951), (-17.698179225, 17.382954187), (-18.523351825, 17.056040156), (-18.939461404, 16.898640298), (-19.737007282, 16.52455631), (-20.119650065, 16.310022758), (-20.660837866, 15.932359757), (-20.835883097, 15.797352579), (-21.17419497, 15.507263291), (-21.336684297, 15.352710544), (-21.793586318, 14.869812921), (-22.061874899, 14.51912944), (-22.40832954, 13.948781761), (-22.514574129, 13.750569889), (-22.70328577, 13.348505183), (-22.786492902, 13.143611193), (-22.931267448, 12.726327738), (-22.992903997, 12.513962219), (-23.095068043, 12.081919515), (-23.135668562, 11.861307713), (-23.225494952, 11.198249456), (-23.242351697, 10.753317954), (-23.22282216, 9.859883594), (-23.185449727, 9.412022235), (-23.158188152, 8.518267427), (-23.174030311, 8.072611506), (-23.277538617, 7.4074326), (-23.324940334, 7.185213951), (-23.446193278, 6.746321085), (-23.518769436, 6.533436301), (-23.769469726, 5.91288698), (-23.983101263, 5.524719786), (-24.471807105, 4.78212401), (-24.744866467, 4.426573905), (-25.254127502, 3.695295696), (-25.489169409, 3.319801049), (-25.885562981, 2.531736266), (-26.049145622, 2.117662896), (-26.288255564, 1.25647593), (-26.361609192, 0.820262987), (-26.415404394, -0.063463774), (-26.394333064, -0.515215593), (-26.259366709, -1.39068931), (-26.146404551, -1.818439017), (-25.832795732, -2.654682974), (-25.634356868, -3.054891842), (-25.178529194, -3.816258504), (-24.918547875, -4.178603578), (-24.395075199, -4.901412658), (-24.13847168, -5.265650047), (-23.816864796, -5.846941082), (-23.719651538, -6.046217799), (-23.590127723, -6.354126824), (-23.549708824, -6.458284064), (-23.493423172, -6.616916698), (-23.475349805, -6.670174242), (-23.449343014, -6.750669455), (-23.440845353, -6.777595718), (-23.424242593, -6.831664903), (-23.415653275, -6.860431182), (-23.40819235, -6.886039026)],
                knots=[0, 0, 0, 0, 0.0078125, 0.0078125, 0.015625, 0.015625, 0.0234375, 0.0234375, 0.03125, 0.03125, 0.03515625, 0.03515625, 0.0390625, 0.0390625, 0.046875, 0.046875, 0.0546875, 0.0546875, 0.0625, 0.0625, 0.06640625, 0.06640625, 0.0703125, 0.0703125, 0.078125, 0.078125, 0.0859375, 0.0859375, 0.08984375, 0.08984375, 0.09375, 0.09375, 0.1015625, 0.1015625, 0.109375, 0.109375, 0.1171875, 0.1171875, 0.125, 0.125, 0.12890625, 0.12890625, 0.1328125, 0.1328125, 0.13671875, 0.13671875, 0.140625, 0.140625, 0.1484375, 0.1484375, 0.15625, 0.15625, 0.1640625, 0.1640625, 0.171875, 0.171875, 0.1796875, 0.1796875, 0.18359375, 0.18359375, 0.1875, 0.1875, 0.1953125, 0.1953125, 0.203125, 0.203125, 0.2109375, 0.2109375, 0.21875, 0.21875, 0.22265625, 0.22265625, 0.2265625, 0.2265625, 0.234375, 0.234375, 0.2421875, 0.2421875, 0.25, 0.25, 0.2578125, 0.2578125, 0.265625, 0.265625, 0.2734375, 0.2734375, 0.27734375, 0.27734375, 0.28125, 0.28125, 0.2890625, 0.2890625, 0.296875, 0.296875, 0.3046875, 0.3046875, 0.3125, 0.3125, 0.31640625, 0.31640625, 0.3203125, 0.3203125, 0.328125, 0.328125, 0.3359375, 0.3359375, 0.34375, 0.34375, 0.3515625, 0.3515625, 0.359375, 0.359375, 0.3671875, 0.3671875, 0.375, 0.375, 0.3828125, 0.3828125, 0.390625, 0.390625, 0.3984375, 0.3984375, 0.40625, 0.40625, 0.4140625, 0.4140625, 0.421875, 0.421875, 0.42578125, 0.42578125, 0.4296875, 0.4296875, 0.4375, 0.4375, 0.4453125, 0.4453125, 0.453125, 0.453125, 0.45703125, 0.45703125, 0.4609375, 0.4609375, 0.46875, 0.46875, 0.4765625, 0.4765625, 0.484375, 0.484375, 0.4921875, 0.4921875, 0.5, 0.5, 0.5078125, 0.5078125, 0.51171875, 0.51171875, 0.515625, 0.515625, 0.51953125, 0.51953125, 0.5234375, 0.5234375, 0.53125, 0.53125, 0.5390625, 0.5390625, 0.546875, 0.546875, 0.55078125, 0.55078125, 0.5546875, 0.5546875, 0.5625, 0.5625, 0.5703125, 0.5703125, 0.578125, 0.578125, 0.5859375, 0.5859375, 0.59375, 0.59375, 0.6015625, 0.6015625, 0.609375, 0.609375, 0.61328125, 0.61328125, 0.6171875, 0.6171875, 0.625, 0.625, 0.6328125, 0.6328125, 0.640625, 0.640625, 0.6484375, 0.6484375, 0.65625, 0.65625, 0.6640625, 0.6640625, 0.671875, 0.671875, 0.67578125, 0.67578125, 0.6796875, 0.6796875, 0.6875, 0.6875, 0.6953125, 0.6953125, 0.703125, 0.703125, 0.7109375, 0.7109375, 0.71875, 0.71875, 0.7265625, 0.7265625, 0.734375, 0.734375, 0.7421875, 0.7421875, 0.75, 0.75, 0.7578125, 0.7578125, 0.76171875, 0.76171875, 0.765625, 0.765625, 0.7734375, 0.7734375, 0.77734375, 0.77734375, 0.78125, 0.78125, 0.7890625, 0.7890625, 0.796875, 0.796875, 0.8046875, 0.8046875, 0.8125, 0.8125, 0.8203125, 0.8203125, 0.82421875, 0.82421875, 0.828125, 0.828125, 0.8359375, 0.8359375, 0.84375, 0.84375, 0.8515625, 0.8515625, 0.85546875, 0.85546875, 0.859375, 0.859375, 0.8671875, 0.8671875, 0.87109375, 0.87109375, 0.875, 0.875, 0.87890625, 0.87890625, 0.8828125, 0.8828125, 0.890625, 0.890625, 0.8984375, 0.8984375, 0.90625, 0.90625, 0.91015625, 0.91015625, 0.9140625, 0.9140625, 0.921875, 0.921875, 0.9296875, 0.9296875, 0.9375, 0.9375, 0.9453125, 0.9453125, 0.953125, 0.953125, 0.9609375, 0.9609375, 0.96875, 0.96875, 0.9765625, 0.9765625, 0.984375, 0.984375, 0.9921875, 0.9921875, 0.99609375, 0.99609375, 0.998046875, 0.998046875, 0.999023438, 0.999023438, 0.999511719, 0.999511719, 1, 1, 1, 1], degree=3))
        make_face()
    extrude(amount=CUT_EXTRUDE1_DEPTH, mode=Mode.SUBTRACT)

    # Sketch4 → Cut-Extrude3 (cut, through all)
    with BuildSketch(Plane.XY):
        with Locations((0, 32)):
            Circle(SKETCH4_R)
    cut_extrude3 = extrude(amount=CUT_EXTRUDE3_DEPTH, mode=Mode.SUBTRACT)

    # CirPattern1: Cut-Extrude3 ×3 about axis
    cirpattern1_axis = Axis((0, 0, 0), (0, 0, 1))
    for i in range(1, CIRPATTERN1_COUNT):
        add(cut_extrude3.rotate(cirpattern1_axis, i * 360 / CIRPATTERN1_COUNT), mode=Mode.SUBTRACT)


solid = part.part
